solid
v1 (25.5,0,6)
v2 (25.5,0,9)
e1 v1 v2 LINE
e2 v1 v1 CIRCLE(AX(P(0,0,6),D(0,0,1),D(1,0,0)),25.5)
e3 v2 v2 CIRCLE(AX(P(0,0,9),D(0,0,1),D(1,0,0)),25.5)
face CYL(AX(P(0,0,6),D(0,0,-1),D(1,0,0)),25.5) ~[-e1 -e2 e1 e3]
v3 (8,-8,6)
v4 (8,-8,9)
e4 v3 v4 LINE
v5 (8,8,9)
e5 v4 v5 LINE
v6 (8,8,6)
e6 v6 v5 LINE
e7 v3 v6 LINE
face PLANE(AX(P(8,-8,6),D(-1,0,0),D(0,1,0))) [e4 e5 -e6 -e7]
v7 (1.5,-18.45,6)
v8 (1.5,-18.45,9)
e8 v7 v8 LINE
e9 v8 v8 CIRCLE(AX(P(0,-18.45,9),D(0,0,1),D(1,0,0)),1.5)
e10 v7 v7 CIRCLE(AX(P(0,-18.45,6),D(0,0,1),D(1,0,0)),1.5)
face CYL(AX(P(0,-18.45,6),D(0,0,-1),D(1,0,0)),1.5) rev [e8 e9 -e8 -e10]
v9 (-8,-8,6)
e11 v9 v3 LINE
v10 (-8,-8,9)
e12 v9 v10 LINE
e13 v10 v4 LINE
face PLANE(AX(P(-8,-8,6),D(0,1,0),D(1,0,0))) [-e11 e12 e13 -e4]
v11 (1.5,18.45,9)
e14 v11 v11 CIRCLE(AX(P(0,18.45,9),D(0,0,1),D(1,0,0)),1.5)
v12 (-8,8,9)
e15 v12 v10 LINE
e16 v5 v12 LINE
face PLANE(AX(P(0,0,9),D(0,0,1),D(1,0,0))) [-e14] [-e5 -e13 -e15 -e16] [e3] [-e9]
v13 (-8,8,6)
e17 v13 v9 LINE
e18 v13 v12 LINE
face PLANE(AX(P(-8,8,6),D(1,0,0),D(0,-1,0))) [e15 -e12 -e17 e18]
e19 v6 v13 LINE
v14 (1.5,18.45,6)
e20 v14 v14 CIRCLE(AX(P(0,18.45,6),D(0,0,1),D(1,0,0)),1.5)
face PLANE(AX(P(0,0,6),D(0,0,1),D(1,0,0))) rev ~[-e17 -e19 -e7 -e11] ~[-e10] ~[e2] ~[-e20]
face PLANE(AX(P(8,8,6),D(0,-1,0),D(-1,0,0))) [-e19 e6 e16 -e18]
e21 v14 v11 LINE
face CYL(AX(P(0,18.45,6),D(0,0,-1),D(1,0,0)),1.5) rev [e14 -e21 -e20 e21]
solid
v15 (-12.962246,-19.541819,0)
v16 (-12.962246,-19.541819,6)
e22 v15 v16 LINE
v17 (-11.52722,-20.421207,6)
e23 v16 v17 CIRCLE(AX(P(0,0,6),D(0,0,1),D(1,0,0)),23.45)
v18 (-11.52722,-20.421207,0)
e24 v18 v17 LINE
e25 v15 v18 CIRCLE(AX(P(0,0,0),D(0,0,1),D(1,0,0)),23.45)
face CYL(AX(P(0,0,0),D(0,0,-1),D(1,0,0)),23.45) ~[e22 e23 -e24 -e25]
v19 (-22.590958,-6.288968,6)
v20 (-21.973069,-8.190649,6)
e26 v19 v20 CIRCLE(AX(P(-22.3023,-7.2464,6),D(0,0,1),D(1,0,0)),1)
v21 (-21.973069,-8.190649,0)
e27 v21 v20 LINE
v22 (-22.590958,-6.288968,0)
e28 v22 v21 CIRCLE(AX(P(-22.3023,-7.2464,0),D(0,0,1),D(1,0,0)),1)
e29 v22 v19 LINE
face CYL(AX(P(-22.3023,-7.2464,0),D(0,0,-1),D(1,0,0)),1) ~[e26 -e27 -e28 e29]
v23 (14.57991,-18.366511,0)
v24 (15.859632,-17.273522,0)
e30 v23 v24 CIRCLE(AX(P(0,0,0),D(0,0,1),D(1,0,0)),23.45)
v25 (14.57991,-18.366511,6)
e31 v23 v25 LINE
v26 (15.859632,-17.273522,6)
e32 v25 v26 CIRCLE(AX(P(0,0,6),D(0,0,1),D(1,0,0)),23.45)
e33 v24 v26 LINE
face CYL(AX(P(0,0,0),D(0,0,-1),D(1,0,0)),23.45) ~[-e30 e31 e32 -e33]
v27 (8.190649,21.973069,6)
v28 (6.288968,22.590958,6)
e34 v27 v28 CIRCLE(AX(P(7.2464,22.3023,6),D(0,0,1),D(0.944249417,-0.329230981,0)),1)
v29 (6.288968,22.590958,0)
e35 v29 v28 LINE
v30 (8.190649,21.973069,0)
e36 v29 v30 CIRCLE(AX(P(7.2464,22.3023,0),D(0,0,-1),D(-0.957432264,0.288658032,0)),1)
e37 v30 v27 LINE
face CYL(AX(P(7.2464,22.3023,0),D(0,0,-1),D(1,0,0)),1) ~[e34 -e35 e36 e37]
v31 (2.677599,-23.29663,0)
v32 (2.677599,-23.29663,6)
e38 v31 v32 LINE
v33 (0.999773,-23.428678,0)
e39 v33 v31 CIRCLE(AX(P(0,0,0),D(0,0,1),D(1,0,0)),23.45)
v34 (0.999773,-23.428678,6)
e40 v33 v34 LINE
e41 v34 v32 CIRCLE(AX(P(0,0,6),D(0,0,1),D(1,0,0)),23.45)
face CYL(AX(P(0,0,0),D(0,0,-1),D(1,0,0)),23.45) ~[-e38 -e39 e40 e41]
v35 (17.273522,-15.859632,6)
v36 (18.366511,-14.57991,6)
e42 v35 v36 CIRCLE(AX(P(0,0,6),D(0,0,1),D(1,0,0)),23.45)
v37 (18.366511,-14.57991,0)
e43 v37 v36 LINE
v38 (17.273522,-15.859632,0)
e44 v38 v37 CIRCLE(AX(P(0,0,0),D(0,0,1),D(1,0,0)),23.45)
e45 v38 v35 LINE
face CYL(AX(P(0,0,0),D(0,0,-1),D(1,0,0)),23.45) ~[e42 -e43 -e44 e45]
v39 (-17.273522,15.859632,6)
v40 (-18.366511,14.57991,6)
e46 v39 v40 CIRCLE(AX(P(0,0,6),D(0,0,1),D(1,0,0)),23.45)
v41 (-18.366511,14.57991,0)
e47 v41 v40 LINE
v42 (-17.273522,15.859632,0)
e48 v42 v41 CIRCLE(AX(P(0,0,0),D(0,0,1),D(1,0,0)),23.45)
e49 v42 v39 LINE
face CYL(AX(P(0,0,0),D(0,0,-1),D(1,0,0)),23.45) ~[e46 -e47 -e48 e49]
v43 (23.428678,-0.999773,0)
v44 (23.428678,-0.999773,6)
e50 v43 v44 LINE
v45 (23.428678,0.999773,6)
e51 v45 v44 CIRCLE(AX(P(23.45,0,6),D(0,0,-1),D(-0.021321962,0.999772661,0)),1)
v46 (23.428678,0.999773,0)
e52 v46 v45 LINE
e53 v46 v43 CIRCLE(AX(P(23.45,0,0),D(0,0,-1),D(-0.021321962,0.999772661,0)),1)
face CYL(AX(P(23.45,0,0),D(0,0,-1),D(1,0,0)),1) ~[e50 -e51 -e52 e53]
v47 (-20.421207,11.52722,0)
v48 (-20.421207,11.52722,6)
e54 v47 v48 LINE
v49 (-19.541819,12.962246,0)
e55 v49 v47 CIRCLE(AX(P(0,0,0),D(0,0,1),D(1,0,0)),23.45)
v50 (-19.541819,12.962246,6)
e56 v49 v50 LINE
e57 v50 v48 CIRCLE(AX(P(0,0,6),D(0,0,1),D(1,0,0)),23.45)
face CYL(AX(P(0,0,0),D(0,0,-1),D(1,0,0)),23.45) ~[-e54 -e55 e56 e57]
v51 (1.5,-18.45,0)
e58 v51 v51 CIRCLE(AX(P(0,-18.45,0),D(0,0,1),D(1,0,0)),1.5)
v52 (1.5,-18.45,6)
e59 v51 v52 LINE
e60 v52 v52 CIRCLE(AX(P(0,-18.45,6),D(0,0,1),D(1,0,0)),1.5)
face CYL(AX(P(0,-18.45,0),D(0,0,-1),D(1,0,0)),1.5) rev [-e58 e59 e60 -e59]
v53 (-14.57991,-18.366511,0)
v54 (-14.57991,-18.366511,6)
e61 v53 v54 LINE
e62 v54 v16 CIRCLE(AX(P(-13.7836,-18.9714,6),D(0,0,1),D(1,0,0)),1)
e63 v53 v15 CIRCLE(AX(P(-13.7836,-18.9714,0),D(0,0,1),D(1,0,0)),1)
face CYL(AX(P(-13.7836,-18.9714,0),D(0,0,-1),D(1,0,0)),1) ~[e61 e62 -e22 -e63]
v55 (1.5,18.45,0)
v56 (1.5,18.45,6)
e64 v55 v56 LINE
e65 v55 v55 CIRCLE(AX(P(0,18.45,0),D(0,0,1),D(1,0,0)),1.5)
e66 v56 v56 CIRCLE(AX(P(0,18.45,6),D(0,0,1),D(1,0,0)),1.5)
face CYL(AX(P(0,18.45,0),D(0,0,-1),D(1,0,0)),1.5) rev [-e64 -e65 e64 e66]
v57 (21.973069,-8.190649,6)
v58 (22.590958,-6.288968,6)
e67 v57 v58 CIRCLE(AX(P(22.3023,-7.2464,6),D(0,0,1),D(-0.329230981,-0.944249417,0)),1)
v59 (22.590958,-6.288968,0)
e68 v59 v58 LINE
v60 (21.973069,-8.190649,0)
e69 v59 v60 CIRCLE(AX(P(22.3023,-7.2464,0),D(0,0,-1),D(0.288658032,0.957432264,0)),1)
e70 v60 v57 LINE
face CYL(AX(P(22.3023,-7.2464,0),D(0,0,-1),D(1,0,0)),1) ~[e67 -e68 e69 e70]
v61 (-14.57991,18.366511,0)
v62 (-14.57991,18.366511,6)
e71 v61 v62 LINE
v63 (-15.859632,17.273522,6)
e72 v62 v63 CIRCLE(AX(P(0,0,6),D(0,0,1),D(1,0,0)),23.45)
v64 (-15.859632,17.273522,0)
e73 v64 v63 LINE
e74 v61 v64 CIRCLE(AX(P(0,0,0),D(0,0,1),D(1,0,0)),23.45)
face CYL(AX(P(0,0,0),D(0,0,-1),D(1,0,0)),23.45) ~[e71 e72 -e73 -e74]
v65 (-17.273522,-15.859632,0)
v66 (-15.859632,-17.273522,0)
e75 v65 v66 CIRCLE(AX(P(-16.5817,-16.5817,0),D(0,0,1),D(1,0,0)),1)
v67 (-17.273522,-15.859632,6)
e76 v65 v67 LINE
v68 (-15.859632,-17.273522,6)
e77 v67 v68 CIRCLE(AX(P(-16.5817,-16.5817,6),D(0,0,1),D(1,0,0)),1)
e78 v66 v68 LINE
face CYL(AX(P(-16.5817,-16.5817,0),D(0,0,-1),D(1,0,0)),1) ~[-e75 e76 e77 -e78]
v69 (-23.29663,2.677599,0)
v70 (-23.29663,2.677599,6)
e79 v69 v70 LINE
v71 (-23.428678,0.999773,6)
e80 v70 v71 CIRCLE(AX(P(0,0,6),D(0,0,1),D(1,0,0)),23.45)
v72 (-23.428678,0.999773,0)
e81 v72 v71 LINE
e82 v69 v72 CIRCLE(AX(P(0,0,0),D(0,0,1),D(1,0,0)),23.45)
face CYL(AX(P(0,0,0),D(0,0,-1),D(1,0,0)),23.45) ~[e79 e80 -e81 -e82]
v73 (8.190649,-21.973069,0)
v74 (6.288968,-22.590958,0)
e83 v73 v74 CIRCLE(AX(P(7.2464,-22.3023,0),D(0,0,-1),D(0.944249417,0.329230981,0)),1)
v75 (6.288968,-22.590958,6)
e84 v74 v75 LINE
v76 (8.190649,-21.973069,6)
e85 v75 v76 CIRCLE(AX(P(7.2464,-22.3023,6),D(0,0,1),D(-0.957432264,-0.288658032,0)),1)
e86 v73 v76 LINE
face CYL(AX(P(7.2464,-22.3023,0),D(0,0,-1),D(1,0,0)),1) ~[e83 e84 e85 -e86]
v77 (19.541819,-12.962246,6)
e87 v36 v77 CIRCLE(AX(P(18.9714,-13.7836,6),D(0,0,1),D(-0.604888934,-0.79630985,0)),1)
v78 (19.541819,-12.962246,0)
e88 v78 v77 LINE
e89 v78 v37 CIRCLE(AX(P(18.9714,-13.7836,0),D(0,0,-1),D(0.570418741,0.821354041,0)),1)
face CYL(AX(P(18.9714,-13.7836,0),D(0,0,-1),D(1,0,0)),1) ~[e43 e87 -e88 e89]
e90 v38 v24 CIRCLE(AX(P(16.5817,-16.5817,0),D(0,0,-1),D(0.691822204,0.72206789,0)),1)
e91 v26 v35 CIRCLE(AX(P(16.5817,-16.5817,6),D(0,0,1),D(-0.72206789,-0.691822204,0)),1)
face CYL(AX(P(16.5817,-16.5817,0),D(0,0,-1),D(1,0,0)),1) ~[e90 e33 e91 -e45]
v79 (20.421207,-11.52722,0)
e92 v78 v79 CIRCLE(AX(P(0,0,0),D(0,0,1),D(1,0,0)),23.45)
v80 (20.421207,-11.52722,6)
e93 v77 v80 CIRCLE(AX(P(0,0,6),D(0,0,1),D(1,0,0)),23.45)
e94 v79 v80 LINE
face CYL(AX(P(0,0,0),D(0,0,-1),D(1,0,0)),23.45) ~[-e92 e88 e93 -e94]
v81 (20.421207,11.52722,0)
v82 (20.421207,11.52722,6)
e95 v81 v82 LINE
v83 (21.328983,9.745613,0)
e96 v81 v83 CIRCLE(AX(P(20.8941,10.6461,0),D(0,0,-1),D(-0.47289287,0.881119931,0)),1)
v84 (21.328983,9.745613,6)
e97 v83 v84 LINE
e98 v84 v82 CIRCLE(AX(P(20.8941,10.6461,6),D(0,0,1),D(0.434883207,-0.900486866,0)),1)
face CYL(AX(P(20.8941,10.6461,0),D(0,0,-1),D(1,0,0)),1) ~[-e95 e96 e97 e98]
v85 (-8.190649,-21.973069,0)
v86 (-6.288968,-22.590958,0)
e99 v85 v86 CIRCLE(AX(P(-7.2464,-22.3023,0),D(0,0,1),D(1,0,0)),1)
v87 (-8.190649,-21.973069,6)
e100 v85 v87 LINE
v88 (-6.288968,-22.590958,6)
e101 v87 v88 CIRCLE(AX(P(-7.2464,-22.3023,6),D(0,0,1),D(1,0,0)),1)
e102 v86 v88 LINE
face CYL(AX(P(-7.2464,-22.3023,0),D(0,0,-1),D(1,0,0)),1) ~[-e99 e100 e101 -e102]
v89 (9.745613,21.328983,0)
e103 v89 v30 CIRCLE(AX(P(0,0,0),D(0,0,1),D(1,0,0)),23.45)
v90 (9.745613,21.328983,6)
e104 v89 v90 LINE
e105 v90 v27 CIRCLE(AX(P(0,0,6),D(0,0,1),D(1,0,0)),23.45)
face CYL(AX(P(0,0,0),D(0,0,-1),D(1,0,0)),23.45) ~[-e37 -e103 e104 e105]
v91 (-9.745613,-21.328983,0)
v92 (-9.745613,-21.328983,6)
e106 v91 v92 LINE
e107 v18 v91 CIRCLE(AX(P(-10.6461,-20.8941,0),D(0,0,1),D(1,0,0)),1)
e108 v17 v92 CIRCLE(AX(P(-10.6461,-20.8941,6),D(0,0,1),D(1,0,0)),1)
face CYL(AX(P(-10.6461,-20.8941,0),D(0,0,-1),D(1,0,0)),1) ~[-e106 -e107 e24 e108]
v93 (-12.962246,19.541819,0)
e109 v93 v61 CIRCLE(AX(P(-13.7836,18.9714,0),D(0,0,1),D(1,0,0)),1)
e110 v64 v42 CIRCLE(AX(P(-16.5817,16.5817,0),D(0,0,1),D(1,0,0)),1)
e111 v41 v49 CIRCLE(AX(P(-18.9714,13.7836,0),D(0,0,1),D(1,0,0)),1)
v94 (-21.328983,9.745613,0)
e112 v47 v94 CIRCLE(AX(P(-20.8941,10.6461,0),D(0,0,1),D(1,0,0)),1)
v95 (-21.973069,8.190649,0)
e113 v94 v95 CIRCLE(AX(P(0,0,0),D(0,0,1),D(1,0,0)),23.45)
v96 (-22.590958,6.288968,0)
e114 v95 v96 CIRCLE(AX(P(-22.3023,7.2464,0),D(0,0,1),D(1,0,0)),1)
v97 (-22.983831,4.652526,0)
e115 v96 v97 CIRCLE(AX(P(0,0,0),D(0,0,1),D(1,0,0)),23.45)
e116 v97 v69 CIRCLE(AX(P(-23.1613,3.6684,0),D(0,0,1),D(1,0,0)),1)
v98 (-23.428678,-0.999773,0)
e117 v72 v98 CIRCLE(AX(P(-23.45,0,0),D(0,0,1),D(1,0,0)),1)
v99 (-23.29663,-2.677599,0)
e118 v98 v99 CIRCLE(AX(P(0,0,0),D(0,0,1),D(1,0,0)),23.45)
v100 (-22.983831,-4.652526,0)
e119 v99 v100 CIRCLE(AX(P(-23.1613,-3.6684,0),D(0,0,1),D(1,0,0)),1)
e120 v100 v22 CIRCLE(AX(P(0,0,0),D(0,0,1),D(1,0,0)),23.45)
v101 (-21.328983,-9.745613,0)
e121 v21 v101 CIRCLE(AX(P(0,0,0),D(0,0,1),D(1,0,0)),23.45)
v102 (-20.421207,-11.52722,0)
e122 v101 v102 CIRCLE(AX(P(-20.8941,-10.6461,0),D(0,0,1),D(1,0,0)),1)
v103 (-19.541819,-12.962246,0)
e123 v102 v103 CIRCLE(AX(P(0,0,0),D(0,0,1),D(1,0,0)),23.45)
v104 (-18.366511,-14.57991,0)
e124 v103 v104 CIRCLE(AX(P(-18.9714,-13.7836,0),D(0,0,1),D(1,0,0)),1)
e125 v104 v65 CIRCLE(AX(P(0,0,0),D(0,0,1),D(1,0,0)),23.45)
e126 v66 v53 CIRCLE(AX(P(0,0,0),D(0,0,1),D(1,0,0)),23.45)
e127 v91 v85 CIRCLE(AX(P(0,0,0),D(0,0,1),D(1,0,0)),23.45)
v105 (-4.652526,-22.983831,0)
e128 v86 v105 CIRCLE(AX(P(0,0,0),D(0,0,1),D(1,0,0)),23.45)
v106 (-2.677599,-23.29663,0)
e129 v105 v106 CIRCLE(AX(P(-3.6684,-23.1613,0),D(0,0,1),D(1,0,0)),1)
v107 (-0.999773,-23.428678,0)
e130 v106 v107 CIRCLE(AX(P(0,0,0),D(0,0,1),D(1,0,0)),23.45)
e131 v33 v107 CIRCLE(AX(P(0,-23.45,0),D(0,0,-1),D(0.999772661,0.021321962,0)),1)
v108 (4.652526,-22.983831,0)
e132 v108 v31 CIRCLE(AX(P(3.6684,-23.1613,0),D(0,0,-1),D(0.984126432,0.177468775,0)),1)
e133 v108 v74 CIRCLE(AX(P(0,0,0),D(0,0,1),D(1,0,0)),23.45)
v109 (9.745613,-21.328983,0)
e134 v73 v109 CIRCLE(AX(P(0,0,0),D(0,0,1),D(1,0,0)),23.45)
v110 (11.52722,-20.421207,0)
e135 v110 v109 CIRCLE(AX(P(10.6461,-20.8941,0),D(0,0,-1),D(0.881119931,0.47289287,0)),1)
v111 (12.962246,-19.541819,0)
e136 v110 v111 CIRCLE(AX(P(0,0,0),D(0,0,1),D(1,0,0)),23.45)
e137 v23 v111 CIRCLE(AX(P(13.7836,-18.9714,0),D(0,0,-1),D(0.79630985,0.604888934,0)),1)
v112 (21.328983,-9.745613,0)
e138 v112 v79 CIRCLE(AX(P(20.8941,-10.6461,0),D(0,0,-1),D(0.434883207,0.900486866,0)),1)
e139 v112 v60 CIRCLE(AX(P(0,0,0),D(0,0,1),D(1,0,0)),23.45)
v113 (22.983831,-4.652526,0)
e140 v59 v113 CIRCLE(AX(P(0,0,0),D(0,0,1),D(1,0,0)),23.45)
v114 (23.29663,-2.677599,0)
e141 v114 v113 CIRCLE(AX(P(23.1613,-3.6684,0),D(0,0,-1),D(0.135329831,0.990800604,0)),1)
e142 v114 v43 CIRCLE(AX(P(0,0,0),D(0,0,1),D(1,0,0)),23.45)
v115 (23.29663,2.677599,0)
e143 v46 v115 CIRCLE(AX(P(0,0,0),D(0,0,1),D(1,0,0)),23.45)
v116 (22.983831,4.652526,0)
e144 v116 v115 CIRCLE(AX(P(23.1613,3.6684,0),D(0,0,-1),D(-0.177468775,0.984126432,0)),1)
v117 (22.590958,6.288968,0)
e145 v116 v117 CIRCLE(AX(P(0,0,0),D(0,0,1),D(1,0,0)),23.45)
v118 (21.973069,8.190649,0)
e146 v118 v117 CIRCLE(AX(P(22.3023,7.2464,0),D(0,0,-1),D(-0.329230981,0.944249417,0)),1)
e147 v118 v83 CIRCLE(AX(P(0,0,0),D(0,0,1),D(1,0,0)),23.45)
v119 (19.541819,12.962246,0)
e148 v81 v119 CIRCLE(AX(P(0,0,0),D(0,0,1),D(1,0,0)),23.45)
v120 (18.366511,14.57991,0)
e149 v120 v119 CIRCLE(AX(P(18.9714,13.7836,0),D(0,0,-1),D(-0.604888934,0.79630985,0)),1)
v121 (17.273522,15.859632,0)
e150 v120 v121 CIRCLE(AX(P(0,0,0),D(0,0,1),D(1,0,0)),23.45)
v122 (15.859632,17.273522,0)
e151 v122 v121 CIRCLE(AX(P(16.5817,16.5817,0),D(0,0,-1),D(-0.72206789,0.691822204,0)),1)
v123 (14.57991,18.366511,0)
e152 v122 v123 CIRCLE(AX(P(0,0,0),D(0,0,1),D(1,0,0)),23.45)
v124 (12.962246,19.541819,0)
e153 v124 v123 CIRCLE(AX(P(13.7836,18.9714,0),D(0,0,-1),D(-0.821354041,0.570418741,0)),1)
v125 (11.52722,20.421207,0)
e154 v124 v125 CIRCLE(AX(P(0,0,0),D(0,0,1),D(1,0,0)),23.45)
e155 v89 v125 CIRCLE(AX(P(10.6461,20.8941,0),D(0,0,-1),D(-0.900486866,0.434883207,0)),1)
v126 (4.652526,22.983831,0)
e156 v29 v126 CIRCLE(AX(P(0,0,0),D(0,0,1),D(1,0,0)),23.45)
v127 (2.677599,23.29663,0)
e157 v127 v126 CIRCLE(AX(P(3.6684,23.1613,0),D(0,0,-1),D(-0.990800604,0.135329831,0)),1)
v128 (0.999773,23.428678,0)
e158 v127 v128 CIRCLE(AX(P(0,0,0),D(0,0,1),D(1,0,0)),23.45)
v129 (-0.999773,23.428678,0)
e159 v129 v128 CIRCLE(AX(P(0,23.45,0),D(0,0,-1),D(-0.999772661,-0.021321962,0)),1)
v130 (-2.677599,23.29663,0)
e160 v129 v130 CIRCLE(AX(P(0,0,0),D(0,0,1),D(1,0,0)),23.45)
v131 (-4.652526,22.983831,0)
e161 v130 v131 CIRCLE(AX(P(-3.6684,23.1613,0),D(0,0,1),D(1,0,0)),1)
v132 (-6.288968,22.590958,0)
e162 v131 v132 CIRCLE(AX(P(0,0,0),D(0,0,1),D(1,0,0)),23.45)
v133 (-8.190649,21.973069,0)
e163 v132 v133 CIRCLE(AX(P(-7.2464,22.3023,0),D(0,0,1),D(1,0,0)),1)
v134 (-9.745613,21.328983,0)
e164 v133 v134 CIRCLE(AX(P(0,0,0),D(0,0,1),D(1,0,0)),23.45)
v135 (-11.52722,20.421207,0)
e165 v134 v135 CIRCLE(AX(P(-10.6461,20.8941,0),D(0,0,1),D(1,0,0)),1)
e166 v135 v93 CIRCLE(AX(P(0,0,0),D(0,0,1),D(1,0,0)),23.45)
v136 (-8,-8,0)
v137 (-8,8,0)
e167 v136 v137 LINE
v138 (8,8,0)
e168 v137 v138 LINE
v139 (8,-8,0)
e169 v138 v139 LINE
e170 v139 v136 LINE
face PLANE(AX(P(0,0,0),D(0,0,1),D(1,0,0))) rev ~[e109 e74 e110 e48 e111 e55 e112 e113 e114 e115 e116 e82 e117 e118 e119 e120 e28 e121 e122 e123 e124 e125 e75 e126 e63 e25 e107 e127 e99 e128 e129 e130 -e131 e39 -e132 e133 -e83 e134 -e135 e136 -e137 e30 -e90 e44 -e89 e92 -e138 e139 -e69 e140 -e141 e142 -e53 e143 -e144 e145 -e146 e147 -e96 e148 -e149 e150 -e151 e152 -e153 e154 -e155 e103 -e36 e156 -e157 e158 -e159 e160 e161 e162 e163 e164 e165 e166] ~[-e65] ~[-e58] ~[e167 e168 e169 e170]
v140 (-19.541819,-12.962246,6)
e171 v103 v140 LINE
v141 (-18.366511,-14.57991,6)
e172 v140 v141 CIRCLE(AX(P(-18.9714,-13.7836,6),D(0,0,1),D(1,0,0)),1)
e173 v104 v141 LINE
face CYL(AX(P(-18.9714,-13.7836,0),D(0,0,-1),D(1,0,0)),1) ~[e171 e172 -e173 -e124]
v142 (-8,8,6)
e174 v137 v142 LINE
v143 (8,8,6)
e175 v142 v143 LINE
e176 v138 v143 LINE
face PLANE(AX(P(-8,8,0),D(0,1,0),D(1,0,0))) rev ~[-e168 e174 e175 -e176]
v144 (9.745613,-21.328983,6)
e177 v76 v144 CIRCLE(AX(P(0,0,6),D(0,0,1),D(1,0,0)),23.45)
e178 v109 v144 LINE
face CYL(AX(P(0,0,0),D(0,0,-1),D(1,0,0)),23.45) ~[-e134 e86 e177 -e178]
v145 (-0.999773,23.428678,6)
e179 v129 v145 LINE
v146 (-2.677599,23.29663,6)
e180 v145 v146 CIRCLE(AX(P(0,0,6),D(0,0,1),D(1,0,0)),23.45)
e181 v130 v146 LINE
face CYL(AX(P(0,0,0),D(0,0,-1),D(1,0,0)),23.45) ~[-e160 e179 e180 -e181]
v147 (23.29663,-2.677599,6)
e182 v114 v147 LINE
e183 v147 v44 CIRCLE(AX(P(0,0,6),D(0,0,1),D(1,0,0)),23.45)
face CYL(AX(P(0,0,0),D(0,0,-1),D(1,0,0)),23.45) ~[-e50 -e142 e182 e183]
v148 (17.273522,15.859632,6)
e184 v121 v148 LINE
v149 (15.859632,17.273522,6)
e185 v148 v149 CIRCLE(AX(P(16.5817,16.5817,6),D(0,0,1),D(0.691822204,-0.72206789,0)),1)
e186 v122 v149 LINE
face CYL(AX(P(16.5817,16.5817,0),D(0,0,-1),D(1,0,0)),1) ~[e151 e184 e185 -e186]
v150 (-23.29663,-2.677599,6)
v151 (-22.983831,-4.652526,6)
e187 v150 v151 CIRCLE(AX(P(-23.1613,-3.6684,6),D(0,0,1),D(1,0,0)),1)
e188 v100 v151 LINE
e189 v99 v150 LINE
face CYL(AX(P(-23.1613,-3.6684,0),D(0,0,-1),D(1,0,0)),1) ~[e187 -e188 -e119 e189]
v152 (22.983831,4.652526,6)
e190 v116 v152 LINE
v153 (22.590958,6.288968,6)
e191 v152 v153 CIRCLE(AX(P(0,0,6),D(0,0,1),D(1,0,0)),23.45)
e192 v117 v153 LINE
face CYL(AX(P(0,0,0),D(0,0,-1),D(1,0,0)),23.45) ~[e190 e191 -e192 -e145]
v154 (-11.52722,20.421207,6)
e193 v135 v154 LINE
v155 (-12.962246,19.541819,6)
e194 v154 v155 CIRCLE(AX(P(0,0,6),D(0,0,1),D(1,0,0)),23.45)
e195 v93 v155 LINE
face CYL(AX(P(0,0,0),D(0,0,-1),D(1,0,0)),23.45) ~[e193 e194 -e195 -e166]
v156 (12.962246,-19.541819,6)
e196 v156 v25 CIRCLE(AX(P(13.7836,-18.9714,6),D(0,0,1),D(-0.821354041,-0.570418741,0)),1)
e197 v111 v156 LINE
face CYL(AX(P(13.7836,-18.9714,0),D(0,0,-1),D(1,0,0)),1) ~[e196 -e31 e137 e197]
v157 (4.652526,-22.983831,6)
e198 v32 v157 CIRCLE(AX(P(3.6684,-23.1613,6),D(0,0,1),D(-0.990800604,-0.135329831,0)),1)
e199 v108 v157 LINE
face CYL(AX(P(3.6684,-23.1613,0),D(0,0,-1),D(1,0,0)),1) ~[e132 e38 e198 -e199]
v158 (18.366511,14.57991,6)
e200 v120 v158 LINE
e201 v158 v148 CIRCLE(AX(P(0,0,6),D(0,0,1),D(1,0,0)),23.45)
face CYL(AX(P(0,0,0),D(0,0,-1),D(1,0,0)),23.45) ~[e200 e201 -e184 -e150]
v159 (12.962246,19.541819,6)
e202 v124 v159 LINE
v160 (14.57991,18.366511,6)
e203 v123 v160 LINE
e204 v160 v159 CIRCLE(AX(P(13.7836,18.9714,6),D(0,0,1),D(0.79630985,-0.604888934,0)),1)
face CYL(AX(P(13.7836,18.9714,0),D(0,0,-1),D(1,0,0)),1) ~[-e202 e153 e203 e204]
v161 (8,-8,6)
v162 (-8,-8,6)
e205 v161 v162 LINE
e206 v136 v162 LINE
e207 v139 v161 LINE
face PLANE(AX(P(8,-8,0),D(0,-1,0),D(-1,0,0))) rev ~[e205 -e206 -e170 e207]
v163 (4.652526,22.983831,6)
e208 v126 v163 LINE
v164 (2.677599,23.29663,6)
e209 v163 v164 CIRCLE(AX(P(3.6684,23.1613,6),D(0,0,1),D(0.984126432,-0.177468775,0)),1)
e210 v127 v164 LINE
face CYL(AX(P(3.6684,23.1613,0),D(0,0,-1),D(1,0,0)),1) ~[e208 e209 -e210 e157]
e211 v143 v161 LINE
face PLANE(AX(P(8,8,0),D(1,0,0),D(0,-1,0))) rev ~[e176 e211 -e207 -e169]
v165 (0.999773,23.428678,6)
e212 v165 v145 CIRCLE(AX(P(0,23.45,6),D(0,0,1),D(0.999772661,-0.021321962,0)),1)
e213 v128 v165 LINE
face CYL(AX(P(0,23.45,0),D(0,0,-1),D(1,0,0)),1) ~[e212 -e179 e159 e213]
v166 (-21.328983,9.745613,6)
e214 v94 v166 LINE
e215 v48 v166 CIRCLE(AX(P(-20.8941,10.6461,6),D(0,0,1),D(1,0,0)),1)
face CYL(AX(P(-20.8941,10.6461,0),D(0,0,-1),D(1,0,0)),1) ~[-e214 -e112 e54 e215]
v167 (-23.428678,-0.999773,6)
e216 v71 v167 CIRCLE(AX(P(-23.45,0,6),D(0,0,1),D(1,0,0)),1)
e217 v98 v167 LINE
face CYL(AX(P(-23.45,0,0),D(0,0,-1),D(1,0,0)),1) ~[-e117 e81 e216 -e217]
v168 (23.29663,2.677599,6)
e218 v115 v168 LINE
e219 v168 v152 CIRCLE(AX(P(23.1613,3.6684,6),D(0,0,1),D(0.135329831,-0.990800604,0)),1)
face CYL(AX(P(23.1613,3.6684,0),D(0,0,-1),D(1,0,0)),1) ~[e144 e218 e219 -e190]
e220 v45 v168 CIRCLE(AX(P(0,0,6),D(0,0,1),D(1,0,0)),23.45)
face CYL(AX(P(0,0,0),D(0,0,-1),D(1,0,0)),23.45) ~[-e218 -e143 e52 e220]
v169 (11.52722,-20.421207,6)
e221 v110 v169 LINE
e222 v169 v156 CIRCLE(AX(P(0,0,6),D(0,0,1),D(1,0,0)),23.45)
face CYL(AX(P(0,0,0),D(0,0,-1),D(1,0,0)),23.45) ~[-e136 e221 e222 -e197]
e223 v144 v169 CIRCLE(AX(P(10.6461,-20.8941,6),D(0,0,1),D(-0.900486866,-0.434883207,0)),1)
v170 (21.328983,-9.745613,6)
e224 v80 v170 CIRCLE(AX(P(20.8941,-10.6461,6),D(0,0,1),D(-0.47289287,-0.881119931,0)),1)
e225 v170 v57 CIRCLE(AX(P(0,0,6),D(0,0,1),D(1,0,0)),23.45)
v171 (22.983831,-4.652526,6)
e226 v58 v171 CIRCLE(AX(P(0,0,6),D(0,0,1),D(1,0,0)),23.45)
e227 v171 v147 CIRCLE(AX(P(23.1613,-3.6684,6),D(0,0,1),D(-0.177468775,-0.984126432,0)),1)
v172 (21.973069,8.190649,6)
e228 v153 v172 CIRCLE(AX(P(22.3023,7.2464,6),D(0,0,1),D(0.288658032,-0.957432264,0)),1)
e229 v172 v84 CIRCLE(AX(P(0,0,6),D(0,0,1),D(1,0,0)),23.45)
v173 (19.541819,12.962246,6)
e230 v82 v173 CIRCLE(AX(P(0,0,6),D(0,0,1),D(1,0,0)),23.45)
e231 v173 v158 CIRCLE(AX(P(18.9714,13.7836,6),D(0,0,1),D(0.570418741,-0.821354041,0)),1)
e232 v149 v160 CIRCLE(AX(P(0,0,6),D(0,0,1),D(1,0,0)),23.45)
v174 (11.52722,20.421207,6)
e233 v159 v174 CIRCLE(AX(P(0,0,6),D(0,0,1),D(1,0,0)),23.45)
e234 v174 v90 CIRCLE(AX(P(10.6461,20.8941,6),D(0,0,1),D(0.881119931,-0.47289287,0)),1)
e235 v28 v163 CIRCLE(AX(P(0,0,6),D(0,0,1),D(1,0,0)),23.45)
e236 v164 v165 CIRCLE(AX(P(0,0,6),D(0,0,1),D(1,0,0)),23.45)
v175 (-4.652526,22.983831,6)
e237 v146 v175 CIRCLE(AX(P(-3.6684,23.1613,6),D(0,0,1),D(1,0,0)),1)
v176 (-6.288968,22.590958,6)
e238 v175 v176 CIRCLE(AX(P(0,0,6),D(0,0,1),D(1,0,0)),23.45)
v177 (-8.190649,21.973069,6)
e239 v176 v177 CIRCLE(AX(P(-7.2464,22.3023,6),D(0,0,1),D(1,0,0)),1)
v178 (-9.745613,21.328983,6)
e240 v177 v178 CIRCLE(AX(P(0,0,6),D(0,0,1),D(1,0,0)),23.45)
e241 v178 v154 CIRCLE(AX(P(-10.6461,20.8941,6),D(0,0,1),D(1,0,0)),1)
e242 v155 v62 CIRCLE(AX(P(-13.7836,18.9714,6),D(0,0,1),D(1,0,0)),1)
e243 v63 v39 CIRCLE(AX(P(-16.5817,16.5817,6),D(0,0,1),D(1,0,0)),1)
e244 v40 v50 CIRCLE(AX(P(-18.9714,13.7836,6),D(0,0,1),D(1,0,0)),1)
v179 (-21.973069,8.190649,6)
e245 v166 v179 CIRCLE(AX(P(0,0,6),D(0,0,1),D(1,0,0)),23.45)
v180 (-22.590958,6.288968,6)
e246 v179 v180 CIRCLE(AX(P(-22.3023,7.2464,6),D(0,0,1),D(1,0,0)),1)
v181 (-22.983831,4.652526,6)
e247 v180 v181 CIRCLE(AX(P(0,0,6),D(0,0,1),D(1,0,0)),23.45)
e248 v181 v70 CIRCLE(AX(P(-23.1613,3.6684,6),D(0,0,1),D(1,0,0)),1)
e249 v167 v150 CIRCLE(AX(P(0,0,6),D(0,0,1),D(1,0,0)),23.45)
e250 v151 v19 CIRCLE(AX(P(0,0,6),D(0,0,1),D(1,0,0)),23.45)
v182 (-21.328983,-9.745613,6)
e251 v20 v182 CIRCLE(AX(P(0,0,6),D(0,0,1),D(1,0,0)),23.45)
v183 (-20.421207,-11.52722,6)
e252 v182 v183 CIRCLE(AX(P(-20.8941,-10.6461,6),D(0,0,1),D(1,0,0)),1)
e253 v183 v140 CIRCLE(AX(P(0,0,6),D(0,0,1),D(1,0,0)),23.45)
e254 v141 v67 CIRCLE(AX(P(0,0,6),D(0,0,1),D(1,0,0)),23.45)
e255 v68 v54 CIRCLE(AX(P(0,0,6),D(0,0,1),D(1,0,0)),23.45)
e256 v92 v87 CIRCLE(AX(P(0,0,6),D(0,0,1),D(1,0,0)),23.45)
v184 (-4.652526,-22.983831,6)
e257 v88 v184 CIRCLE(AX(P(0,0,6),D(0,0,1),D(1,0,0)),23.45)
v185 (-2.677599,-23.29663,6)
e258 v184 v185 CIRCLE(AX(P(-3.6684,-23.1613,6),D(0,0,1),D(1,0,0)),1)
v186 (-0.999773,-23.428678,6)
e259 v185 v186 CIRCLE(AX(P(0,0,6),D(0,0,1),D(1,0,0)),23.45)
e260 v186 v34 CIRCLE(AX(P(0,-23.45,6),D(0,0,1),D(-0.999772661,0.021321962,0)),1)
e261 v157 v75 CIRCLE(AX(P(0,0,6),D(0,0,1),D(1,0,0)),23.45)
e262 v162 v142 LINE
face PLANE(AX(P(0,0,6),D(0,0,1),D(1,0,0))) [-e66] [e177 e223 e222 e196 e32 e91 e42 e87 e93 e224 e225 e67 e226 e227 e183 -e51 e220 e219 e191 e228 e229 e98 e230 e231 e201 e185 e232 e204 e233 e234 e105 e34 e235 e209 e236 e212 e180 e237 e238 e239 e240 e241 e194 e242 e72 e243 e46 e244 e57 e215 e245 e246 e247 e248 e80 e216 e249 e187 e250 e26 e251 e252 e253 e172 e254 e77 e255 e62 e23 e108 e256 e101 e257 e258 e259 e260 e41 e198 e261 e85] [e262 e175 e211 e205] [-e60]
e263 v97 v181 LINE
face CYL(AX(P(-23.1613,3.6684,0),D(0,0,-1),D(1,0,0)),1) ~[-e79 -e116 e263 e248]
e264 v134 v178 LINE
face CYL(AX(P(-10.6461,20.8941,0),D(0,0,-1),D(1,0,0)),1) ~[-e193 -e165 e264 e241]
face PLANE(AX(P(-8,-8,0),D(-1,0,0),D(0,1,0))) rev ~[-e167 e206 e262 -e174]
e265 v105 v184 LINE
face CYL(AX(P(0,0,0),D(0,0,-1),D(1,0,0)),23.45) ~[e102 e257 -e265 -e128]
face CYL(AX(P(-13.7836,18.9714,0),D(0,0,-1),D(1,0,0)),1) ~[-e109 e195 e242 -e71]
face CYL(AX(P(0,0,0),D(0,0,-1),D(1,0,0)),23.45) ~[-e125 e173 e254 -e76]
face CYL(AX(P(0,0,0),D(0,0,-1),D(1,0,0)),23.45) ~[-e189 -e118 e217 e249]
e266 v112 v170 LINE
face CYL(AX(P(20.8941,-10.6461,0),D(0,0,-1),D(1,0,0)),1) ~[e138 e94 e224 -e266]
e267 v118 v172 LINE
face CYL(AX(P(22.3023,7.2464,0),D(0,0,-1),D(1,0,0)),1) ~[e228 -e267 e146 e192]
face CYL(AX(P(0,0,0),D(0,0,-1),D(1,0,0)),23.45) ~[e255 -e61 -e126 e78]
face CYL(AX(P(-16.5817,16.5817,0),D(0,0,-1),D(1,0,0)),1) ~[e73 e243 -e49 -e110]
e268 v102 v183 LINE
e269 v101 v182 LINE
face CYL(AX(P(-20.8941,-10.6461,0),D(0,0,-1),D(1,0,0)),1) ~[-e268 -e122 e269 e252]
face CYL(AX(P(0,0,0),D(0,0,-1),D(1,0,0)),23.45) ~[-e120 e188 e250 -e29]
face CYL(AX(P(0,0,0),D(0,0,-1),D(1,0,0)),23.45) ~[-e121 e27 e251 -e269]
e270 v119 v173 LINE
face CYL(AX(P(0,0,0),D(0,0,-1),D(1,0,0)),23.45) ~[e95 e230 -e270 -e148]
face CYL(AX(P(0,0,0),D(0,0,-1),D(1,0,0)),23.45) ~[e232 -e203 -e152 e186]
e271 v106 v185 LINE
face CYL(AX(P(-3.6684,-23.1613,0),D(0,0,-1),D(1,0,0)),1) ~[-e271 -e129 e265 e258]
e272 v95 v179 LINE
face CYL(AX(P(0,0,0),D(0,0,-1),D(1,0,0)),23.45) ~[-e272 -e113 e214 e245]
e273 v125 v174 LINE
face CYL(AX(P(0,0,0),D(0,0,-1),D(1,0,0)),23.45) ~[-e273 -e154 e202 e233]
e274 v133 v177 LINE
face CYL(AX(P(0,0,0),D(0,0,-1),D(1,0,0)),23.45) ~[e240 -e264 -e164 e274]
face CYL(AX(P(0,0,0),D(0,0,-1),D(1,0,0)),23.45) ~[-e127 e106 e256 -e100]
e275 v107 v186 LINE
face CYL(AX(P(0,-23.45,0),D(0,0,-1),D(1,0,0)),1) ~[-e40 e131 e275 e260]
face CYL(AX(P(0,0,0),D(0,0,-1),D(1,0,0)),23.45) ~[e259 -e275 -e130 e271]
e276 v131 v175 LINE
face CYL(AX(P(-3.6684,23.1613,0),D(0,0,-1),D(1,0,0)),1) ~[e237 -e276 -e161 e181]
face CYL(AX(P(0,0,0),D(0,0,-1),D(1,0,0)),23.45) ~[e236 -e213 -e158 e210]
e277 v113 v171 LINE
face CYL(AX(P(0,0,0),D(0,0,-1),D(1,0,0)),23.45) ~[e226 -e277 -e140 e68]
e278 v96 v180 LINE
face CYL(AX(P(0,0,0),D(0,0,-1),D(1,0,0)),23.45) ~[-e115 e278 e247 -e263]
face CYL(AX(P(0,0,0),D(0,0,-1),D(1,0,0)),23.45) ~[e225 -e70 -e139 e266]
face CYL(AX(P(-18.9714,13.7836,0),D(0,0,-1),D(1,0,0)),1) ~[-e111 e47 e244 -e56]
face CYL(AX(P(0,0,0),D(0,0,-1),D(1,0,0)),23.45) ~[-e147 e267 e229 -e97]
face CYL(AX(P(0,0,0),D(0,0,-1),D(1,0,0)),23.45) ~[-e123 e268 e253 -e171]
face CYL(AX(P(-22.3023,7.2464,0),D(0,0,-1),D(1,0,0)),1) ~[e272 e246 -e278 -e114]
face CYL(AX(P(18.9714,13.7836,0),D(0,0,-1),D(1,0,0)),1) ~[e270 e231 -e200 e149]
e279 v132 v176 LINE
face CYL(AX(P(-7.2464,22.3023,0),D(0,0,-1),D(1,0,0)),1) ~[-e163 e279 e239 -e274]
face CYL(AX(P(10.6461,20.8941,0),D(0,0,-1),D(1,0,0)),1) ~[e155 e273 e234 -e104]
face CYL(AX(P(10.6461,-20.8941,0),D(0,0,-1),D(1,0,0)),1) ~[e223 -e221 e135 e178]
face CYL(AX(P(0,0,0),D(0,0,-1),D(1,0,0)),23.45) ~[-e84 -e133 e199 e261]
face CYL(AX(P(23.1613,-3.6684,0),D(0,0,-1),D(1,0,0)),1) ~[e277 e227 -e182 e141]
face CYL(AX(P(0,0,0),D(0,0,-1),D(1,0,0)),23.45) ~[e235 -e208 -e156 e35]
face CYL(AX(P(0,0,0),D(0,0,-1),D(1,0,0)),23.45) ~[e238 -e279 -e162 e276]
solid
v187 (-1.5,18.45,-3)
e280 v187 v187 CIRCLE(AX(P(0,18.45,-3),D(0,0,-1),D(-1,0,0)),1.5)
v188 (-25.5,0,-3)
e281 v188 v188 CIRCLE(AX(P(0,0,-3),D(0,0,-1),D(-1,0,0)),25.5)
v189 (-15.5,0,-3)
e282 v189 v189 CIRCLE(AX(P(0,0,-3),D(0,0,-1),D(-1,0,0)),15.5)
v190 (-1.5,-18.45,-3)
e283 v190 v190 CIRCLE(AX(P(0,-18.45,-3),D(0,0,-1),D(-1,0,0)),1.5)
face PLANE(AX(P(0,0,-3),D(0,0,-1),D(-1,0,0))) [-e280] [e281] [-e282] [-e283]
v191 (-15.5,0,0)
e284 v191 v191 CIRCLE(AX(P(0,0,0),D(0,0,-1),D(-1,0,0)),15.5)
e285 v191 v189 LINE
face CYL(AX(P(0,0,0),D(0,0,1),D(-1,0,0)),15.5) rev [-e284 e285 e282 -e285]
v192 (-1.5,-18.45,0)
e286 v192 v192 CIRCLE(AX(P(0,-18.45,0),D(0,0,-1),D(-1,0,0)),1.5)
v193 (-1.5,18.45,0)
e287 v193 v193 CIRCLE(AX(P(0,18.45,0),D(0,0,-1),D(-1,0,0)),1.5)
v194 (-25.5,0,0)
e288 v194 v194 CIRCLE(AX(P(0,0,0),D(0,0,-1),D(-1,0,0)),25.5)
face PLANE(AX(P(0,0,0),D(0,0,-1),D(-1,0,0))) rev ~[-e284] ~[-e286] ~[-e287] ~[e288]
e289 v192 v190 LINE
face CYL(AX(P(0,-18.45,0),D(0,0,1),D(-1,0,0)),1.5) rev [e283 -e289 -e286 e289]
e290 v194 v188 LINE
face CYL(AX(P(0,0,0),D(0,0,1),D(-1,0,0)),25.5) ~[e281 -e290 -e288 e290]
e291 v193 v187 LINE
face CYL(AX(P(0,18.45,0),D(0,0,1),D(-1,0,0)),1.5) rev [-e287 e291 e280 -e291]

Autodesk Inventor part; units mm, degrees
ref_plane "YZ Plane" through (0, 0, 0) normal (1, 0, 0) x (0, 1, 0)
ref_plane "XZ Plane" through (0, 0, 0) normal (0, 1, 0) x (-1, 0, 0)
ref_plane "XY Plane" through (0, 0, 0) normal (0, 0, 1) x (1, 0, 0)
sketch "Boceto1" plane through (0, 0, 0) normal (0, 0, 1) x (1, 0, 0)
  line L0 (8, -8) -> (-8, -8) projected
  line L1 (-8, -8) -> (-8, 8) projected
  line L2 (-8, 8) -> (8, 8) projected
  line L3 (8, 8) -> (8, -8) projected
  circle A0 centre (0, 0) radius 15 construction
  circle A1 centre (0, 0) radius 23.45
  circle A2 centre (0, 0) radius 18.45 construction
  circle A3 centre (0, 18.45) radius 1.5
  circle A4 centre (0, -18.45) radius 1.5
  circle A5 centre (0, 23.45) radius 1
  circle A6 centre (-3.6684, 23.1613) radius 1
  circle A7 centre (-7.2464, 22.3023) radius 1
  circle A8 centre (-10.6461, 20.8941) radius 1
  circle A9 centre (-13.7836, 18.9714) radius 1
  circle A10 centre (-16.5817, 16.5817) radius 1
  circle A11 centre (-18.9714, 13.7836) radius 1
  circle A12 centre (-20.8941, 10.6461) radius 1
  circle A13 centre (-22.3023, 7.2464) radius 1
  circle A14 centre (-23.1613, 3.6684) radius 1
  circle A15 centre (-23.45, 0) radius 1
  circle A16 centre (-23.1613, -3.6684) radius 1
  circle A17 centre (-22.3023, -7.2464) radius 1
  circle A18 centre (-20.8941, -10.6461) radius 1
  circle A19 centre (-18.9714, -13.7836) radius 1
  circle A20 centre (-16.5817, -16.5817) radius 1
  circle A21 centre (-13.7836, -18.9714) radius 1
  circle A22 centre (-10.6461, -20.8941) radius 1
  circle A23 centre (-7.2464, -22.3023) radius 1
  circle A24 centre (-3.6684, -23.1613) radius 1
  circle A25 centre (0, -23.45) radius 1
  circle A26 centre (3.6684, -23.1613) radius 1
  circle A27 centre (7.2464, -22.3023) radius 1
  circle A28 centre (10.6461, -20.8941) radius 1
  circle A29 centre (13.7836, -18.9714) radius 1
  circle A30 centre (16.5817, -16.5817) radius 1
  circle A31 centre (18.9714, -13.7836) radius 1
  circle A32 centre (20.8941, -10.6461) radius 1
  circle A33 centre (22.3023, -7.2464) radius 1
  circle A34 centre (23.1613, -3.6684) radius 1
  circle A35 centre (23.45, 0) radius 1
  circle A36 centre (23.1613, 3.6684) radius 1
  circle A37 centre (22.3023, 7.2464) radius 1
  circle A38 centre (20.8941, 10.6461) radius 1
  circle A39 centre (18.9714, 13.7836) radius 1
  circle A40 centre (16.5817, 16.5817) radius 1
  circle A41 centre (13.7836, 18.9714) radius 1
  circle A42 centre (10.6461, 20.8941) radius 1
  circle A43 centre (7.2464, 22.3023) radius 1
  circle A44 centre (3.6684, 23.1613) radius 1
  circle A45 centre (0, 0) radius 24.45 construction
  dimension "d0" = 46.9
  dimension "d4" = 5
  dimension "d3" = 3
  dimension "d7" = 360
  dimension "d16" = 2
  dimension "d19" = 360
  dimension "d24" = 48.9
extrude "Extrusión1" add sketch "Boceto1" along normal blind 6
sketch "Boceto2" plane through (0, 0, 0) normal (0, 0, -1) x (-1, 0, 0)
  circle A0 centre (0, 0) radius 25.5
  circle A1 centre (0, 0) radius 15.5
  circle A2 centre (0, 18.45) radius 1.5 projected
  circle A3 centre (0, -18.45) radius 1.5 projected
  dimension "d9" = 31
  dimension "d21" = 51
extrude "Extrusión2" add sketch "Boceto2" along normal blind 3 separate body
sketch "Boceto3" plane through (0, 0, 6) normal (0, 0, 1) x (1, 0, 0)
  circle A0 centre (0, 0) radius 25.5 projected
  circle A1 centre (0, 18.45) radius 1.5 projected
  circle A2 centre (0, -18.45) radius 1.5 projected
  line L0 (8, 8) -> (-8, 8) projected
  line L1 (8, -8) -> (8, 8) projected
  line L2 (-8, -8) -> (8, -8) projected
  line L3 (-8, 8) -> (-8, -8) projected
extrude "Extrusión3" add sketch "Boceto3" along normal blind 3 separate body
properties part number "polea pequeña"
